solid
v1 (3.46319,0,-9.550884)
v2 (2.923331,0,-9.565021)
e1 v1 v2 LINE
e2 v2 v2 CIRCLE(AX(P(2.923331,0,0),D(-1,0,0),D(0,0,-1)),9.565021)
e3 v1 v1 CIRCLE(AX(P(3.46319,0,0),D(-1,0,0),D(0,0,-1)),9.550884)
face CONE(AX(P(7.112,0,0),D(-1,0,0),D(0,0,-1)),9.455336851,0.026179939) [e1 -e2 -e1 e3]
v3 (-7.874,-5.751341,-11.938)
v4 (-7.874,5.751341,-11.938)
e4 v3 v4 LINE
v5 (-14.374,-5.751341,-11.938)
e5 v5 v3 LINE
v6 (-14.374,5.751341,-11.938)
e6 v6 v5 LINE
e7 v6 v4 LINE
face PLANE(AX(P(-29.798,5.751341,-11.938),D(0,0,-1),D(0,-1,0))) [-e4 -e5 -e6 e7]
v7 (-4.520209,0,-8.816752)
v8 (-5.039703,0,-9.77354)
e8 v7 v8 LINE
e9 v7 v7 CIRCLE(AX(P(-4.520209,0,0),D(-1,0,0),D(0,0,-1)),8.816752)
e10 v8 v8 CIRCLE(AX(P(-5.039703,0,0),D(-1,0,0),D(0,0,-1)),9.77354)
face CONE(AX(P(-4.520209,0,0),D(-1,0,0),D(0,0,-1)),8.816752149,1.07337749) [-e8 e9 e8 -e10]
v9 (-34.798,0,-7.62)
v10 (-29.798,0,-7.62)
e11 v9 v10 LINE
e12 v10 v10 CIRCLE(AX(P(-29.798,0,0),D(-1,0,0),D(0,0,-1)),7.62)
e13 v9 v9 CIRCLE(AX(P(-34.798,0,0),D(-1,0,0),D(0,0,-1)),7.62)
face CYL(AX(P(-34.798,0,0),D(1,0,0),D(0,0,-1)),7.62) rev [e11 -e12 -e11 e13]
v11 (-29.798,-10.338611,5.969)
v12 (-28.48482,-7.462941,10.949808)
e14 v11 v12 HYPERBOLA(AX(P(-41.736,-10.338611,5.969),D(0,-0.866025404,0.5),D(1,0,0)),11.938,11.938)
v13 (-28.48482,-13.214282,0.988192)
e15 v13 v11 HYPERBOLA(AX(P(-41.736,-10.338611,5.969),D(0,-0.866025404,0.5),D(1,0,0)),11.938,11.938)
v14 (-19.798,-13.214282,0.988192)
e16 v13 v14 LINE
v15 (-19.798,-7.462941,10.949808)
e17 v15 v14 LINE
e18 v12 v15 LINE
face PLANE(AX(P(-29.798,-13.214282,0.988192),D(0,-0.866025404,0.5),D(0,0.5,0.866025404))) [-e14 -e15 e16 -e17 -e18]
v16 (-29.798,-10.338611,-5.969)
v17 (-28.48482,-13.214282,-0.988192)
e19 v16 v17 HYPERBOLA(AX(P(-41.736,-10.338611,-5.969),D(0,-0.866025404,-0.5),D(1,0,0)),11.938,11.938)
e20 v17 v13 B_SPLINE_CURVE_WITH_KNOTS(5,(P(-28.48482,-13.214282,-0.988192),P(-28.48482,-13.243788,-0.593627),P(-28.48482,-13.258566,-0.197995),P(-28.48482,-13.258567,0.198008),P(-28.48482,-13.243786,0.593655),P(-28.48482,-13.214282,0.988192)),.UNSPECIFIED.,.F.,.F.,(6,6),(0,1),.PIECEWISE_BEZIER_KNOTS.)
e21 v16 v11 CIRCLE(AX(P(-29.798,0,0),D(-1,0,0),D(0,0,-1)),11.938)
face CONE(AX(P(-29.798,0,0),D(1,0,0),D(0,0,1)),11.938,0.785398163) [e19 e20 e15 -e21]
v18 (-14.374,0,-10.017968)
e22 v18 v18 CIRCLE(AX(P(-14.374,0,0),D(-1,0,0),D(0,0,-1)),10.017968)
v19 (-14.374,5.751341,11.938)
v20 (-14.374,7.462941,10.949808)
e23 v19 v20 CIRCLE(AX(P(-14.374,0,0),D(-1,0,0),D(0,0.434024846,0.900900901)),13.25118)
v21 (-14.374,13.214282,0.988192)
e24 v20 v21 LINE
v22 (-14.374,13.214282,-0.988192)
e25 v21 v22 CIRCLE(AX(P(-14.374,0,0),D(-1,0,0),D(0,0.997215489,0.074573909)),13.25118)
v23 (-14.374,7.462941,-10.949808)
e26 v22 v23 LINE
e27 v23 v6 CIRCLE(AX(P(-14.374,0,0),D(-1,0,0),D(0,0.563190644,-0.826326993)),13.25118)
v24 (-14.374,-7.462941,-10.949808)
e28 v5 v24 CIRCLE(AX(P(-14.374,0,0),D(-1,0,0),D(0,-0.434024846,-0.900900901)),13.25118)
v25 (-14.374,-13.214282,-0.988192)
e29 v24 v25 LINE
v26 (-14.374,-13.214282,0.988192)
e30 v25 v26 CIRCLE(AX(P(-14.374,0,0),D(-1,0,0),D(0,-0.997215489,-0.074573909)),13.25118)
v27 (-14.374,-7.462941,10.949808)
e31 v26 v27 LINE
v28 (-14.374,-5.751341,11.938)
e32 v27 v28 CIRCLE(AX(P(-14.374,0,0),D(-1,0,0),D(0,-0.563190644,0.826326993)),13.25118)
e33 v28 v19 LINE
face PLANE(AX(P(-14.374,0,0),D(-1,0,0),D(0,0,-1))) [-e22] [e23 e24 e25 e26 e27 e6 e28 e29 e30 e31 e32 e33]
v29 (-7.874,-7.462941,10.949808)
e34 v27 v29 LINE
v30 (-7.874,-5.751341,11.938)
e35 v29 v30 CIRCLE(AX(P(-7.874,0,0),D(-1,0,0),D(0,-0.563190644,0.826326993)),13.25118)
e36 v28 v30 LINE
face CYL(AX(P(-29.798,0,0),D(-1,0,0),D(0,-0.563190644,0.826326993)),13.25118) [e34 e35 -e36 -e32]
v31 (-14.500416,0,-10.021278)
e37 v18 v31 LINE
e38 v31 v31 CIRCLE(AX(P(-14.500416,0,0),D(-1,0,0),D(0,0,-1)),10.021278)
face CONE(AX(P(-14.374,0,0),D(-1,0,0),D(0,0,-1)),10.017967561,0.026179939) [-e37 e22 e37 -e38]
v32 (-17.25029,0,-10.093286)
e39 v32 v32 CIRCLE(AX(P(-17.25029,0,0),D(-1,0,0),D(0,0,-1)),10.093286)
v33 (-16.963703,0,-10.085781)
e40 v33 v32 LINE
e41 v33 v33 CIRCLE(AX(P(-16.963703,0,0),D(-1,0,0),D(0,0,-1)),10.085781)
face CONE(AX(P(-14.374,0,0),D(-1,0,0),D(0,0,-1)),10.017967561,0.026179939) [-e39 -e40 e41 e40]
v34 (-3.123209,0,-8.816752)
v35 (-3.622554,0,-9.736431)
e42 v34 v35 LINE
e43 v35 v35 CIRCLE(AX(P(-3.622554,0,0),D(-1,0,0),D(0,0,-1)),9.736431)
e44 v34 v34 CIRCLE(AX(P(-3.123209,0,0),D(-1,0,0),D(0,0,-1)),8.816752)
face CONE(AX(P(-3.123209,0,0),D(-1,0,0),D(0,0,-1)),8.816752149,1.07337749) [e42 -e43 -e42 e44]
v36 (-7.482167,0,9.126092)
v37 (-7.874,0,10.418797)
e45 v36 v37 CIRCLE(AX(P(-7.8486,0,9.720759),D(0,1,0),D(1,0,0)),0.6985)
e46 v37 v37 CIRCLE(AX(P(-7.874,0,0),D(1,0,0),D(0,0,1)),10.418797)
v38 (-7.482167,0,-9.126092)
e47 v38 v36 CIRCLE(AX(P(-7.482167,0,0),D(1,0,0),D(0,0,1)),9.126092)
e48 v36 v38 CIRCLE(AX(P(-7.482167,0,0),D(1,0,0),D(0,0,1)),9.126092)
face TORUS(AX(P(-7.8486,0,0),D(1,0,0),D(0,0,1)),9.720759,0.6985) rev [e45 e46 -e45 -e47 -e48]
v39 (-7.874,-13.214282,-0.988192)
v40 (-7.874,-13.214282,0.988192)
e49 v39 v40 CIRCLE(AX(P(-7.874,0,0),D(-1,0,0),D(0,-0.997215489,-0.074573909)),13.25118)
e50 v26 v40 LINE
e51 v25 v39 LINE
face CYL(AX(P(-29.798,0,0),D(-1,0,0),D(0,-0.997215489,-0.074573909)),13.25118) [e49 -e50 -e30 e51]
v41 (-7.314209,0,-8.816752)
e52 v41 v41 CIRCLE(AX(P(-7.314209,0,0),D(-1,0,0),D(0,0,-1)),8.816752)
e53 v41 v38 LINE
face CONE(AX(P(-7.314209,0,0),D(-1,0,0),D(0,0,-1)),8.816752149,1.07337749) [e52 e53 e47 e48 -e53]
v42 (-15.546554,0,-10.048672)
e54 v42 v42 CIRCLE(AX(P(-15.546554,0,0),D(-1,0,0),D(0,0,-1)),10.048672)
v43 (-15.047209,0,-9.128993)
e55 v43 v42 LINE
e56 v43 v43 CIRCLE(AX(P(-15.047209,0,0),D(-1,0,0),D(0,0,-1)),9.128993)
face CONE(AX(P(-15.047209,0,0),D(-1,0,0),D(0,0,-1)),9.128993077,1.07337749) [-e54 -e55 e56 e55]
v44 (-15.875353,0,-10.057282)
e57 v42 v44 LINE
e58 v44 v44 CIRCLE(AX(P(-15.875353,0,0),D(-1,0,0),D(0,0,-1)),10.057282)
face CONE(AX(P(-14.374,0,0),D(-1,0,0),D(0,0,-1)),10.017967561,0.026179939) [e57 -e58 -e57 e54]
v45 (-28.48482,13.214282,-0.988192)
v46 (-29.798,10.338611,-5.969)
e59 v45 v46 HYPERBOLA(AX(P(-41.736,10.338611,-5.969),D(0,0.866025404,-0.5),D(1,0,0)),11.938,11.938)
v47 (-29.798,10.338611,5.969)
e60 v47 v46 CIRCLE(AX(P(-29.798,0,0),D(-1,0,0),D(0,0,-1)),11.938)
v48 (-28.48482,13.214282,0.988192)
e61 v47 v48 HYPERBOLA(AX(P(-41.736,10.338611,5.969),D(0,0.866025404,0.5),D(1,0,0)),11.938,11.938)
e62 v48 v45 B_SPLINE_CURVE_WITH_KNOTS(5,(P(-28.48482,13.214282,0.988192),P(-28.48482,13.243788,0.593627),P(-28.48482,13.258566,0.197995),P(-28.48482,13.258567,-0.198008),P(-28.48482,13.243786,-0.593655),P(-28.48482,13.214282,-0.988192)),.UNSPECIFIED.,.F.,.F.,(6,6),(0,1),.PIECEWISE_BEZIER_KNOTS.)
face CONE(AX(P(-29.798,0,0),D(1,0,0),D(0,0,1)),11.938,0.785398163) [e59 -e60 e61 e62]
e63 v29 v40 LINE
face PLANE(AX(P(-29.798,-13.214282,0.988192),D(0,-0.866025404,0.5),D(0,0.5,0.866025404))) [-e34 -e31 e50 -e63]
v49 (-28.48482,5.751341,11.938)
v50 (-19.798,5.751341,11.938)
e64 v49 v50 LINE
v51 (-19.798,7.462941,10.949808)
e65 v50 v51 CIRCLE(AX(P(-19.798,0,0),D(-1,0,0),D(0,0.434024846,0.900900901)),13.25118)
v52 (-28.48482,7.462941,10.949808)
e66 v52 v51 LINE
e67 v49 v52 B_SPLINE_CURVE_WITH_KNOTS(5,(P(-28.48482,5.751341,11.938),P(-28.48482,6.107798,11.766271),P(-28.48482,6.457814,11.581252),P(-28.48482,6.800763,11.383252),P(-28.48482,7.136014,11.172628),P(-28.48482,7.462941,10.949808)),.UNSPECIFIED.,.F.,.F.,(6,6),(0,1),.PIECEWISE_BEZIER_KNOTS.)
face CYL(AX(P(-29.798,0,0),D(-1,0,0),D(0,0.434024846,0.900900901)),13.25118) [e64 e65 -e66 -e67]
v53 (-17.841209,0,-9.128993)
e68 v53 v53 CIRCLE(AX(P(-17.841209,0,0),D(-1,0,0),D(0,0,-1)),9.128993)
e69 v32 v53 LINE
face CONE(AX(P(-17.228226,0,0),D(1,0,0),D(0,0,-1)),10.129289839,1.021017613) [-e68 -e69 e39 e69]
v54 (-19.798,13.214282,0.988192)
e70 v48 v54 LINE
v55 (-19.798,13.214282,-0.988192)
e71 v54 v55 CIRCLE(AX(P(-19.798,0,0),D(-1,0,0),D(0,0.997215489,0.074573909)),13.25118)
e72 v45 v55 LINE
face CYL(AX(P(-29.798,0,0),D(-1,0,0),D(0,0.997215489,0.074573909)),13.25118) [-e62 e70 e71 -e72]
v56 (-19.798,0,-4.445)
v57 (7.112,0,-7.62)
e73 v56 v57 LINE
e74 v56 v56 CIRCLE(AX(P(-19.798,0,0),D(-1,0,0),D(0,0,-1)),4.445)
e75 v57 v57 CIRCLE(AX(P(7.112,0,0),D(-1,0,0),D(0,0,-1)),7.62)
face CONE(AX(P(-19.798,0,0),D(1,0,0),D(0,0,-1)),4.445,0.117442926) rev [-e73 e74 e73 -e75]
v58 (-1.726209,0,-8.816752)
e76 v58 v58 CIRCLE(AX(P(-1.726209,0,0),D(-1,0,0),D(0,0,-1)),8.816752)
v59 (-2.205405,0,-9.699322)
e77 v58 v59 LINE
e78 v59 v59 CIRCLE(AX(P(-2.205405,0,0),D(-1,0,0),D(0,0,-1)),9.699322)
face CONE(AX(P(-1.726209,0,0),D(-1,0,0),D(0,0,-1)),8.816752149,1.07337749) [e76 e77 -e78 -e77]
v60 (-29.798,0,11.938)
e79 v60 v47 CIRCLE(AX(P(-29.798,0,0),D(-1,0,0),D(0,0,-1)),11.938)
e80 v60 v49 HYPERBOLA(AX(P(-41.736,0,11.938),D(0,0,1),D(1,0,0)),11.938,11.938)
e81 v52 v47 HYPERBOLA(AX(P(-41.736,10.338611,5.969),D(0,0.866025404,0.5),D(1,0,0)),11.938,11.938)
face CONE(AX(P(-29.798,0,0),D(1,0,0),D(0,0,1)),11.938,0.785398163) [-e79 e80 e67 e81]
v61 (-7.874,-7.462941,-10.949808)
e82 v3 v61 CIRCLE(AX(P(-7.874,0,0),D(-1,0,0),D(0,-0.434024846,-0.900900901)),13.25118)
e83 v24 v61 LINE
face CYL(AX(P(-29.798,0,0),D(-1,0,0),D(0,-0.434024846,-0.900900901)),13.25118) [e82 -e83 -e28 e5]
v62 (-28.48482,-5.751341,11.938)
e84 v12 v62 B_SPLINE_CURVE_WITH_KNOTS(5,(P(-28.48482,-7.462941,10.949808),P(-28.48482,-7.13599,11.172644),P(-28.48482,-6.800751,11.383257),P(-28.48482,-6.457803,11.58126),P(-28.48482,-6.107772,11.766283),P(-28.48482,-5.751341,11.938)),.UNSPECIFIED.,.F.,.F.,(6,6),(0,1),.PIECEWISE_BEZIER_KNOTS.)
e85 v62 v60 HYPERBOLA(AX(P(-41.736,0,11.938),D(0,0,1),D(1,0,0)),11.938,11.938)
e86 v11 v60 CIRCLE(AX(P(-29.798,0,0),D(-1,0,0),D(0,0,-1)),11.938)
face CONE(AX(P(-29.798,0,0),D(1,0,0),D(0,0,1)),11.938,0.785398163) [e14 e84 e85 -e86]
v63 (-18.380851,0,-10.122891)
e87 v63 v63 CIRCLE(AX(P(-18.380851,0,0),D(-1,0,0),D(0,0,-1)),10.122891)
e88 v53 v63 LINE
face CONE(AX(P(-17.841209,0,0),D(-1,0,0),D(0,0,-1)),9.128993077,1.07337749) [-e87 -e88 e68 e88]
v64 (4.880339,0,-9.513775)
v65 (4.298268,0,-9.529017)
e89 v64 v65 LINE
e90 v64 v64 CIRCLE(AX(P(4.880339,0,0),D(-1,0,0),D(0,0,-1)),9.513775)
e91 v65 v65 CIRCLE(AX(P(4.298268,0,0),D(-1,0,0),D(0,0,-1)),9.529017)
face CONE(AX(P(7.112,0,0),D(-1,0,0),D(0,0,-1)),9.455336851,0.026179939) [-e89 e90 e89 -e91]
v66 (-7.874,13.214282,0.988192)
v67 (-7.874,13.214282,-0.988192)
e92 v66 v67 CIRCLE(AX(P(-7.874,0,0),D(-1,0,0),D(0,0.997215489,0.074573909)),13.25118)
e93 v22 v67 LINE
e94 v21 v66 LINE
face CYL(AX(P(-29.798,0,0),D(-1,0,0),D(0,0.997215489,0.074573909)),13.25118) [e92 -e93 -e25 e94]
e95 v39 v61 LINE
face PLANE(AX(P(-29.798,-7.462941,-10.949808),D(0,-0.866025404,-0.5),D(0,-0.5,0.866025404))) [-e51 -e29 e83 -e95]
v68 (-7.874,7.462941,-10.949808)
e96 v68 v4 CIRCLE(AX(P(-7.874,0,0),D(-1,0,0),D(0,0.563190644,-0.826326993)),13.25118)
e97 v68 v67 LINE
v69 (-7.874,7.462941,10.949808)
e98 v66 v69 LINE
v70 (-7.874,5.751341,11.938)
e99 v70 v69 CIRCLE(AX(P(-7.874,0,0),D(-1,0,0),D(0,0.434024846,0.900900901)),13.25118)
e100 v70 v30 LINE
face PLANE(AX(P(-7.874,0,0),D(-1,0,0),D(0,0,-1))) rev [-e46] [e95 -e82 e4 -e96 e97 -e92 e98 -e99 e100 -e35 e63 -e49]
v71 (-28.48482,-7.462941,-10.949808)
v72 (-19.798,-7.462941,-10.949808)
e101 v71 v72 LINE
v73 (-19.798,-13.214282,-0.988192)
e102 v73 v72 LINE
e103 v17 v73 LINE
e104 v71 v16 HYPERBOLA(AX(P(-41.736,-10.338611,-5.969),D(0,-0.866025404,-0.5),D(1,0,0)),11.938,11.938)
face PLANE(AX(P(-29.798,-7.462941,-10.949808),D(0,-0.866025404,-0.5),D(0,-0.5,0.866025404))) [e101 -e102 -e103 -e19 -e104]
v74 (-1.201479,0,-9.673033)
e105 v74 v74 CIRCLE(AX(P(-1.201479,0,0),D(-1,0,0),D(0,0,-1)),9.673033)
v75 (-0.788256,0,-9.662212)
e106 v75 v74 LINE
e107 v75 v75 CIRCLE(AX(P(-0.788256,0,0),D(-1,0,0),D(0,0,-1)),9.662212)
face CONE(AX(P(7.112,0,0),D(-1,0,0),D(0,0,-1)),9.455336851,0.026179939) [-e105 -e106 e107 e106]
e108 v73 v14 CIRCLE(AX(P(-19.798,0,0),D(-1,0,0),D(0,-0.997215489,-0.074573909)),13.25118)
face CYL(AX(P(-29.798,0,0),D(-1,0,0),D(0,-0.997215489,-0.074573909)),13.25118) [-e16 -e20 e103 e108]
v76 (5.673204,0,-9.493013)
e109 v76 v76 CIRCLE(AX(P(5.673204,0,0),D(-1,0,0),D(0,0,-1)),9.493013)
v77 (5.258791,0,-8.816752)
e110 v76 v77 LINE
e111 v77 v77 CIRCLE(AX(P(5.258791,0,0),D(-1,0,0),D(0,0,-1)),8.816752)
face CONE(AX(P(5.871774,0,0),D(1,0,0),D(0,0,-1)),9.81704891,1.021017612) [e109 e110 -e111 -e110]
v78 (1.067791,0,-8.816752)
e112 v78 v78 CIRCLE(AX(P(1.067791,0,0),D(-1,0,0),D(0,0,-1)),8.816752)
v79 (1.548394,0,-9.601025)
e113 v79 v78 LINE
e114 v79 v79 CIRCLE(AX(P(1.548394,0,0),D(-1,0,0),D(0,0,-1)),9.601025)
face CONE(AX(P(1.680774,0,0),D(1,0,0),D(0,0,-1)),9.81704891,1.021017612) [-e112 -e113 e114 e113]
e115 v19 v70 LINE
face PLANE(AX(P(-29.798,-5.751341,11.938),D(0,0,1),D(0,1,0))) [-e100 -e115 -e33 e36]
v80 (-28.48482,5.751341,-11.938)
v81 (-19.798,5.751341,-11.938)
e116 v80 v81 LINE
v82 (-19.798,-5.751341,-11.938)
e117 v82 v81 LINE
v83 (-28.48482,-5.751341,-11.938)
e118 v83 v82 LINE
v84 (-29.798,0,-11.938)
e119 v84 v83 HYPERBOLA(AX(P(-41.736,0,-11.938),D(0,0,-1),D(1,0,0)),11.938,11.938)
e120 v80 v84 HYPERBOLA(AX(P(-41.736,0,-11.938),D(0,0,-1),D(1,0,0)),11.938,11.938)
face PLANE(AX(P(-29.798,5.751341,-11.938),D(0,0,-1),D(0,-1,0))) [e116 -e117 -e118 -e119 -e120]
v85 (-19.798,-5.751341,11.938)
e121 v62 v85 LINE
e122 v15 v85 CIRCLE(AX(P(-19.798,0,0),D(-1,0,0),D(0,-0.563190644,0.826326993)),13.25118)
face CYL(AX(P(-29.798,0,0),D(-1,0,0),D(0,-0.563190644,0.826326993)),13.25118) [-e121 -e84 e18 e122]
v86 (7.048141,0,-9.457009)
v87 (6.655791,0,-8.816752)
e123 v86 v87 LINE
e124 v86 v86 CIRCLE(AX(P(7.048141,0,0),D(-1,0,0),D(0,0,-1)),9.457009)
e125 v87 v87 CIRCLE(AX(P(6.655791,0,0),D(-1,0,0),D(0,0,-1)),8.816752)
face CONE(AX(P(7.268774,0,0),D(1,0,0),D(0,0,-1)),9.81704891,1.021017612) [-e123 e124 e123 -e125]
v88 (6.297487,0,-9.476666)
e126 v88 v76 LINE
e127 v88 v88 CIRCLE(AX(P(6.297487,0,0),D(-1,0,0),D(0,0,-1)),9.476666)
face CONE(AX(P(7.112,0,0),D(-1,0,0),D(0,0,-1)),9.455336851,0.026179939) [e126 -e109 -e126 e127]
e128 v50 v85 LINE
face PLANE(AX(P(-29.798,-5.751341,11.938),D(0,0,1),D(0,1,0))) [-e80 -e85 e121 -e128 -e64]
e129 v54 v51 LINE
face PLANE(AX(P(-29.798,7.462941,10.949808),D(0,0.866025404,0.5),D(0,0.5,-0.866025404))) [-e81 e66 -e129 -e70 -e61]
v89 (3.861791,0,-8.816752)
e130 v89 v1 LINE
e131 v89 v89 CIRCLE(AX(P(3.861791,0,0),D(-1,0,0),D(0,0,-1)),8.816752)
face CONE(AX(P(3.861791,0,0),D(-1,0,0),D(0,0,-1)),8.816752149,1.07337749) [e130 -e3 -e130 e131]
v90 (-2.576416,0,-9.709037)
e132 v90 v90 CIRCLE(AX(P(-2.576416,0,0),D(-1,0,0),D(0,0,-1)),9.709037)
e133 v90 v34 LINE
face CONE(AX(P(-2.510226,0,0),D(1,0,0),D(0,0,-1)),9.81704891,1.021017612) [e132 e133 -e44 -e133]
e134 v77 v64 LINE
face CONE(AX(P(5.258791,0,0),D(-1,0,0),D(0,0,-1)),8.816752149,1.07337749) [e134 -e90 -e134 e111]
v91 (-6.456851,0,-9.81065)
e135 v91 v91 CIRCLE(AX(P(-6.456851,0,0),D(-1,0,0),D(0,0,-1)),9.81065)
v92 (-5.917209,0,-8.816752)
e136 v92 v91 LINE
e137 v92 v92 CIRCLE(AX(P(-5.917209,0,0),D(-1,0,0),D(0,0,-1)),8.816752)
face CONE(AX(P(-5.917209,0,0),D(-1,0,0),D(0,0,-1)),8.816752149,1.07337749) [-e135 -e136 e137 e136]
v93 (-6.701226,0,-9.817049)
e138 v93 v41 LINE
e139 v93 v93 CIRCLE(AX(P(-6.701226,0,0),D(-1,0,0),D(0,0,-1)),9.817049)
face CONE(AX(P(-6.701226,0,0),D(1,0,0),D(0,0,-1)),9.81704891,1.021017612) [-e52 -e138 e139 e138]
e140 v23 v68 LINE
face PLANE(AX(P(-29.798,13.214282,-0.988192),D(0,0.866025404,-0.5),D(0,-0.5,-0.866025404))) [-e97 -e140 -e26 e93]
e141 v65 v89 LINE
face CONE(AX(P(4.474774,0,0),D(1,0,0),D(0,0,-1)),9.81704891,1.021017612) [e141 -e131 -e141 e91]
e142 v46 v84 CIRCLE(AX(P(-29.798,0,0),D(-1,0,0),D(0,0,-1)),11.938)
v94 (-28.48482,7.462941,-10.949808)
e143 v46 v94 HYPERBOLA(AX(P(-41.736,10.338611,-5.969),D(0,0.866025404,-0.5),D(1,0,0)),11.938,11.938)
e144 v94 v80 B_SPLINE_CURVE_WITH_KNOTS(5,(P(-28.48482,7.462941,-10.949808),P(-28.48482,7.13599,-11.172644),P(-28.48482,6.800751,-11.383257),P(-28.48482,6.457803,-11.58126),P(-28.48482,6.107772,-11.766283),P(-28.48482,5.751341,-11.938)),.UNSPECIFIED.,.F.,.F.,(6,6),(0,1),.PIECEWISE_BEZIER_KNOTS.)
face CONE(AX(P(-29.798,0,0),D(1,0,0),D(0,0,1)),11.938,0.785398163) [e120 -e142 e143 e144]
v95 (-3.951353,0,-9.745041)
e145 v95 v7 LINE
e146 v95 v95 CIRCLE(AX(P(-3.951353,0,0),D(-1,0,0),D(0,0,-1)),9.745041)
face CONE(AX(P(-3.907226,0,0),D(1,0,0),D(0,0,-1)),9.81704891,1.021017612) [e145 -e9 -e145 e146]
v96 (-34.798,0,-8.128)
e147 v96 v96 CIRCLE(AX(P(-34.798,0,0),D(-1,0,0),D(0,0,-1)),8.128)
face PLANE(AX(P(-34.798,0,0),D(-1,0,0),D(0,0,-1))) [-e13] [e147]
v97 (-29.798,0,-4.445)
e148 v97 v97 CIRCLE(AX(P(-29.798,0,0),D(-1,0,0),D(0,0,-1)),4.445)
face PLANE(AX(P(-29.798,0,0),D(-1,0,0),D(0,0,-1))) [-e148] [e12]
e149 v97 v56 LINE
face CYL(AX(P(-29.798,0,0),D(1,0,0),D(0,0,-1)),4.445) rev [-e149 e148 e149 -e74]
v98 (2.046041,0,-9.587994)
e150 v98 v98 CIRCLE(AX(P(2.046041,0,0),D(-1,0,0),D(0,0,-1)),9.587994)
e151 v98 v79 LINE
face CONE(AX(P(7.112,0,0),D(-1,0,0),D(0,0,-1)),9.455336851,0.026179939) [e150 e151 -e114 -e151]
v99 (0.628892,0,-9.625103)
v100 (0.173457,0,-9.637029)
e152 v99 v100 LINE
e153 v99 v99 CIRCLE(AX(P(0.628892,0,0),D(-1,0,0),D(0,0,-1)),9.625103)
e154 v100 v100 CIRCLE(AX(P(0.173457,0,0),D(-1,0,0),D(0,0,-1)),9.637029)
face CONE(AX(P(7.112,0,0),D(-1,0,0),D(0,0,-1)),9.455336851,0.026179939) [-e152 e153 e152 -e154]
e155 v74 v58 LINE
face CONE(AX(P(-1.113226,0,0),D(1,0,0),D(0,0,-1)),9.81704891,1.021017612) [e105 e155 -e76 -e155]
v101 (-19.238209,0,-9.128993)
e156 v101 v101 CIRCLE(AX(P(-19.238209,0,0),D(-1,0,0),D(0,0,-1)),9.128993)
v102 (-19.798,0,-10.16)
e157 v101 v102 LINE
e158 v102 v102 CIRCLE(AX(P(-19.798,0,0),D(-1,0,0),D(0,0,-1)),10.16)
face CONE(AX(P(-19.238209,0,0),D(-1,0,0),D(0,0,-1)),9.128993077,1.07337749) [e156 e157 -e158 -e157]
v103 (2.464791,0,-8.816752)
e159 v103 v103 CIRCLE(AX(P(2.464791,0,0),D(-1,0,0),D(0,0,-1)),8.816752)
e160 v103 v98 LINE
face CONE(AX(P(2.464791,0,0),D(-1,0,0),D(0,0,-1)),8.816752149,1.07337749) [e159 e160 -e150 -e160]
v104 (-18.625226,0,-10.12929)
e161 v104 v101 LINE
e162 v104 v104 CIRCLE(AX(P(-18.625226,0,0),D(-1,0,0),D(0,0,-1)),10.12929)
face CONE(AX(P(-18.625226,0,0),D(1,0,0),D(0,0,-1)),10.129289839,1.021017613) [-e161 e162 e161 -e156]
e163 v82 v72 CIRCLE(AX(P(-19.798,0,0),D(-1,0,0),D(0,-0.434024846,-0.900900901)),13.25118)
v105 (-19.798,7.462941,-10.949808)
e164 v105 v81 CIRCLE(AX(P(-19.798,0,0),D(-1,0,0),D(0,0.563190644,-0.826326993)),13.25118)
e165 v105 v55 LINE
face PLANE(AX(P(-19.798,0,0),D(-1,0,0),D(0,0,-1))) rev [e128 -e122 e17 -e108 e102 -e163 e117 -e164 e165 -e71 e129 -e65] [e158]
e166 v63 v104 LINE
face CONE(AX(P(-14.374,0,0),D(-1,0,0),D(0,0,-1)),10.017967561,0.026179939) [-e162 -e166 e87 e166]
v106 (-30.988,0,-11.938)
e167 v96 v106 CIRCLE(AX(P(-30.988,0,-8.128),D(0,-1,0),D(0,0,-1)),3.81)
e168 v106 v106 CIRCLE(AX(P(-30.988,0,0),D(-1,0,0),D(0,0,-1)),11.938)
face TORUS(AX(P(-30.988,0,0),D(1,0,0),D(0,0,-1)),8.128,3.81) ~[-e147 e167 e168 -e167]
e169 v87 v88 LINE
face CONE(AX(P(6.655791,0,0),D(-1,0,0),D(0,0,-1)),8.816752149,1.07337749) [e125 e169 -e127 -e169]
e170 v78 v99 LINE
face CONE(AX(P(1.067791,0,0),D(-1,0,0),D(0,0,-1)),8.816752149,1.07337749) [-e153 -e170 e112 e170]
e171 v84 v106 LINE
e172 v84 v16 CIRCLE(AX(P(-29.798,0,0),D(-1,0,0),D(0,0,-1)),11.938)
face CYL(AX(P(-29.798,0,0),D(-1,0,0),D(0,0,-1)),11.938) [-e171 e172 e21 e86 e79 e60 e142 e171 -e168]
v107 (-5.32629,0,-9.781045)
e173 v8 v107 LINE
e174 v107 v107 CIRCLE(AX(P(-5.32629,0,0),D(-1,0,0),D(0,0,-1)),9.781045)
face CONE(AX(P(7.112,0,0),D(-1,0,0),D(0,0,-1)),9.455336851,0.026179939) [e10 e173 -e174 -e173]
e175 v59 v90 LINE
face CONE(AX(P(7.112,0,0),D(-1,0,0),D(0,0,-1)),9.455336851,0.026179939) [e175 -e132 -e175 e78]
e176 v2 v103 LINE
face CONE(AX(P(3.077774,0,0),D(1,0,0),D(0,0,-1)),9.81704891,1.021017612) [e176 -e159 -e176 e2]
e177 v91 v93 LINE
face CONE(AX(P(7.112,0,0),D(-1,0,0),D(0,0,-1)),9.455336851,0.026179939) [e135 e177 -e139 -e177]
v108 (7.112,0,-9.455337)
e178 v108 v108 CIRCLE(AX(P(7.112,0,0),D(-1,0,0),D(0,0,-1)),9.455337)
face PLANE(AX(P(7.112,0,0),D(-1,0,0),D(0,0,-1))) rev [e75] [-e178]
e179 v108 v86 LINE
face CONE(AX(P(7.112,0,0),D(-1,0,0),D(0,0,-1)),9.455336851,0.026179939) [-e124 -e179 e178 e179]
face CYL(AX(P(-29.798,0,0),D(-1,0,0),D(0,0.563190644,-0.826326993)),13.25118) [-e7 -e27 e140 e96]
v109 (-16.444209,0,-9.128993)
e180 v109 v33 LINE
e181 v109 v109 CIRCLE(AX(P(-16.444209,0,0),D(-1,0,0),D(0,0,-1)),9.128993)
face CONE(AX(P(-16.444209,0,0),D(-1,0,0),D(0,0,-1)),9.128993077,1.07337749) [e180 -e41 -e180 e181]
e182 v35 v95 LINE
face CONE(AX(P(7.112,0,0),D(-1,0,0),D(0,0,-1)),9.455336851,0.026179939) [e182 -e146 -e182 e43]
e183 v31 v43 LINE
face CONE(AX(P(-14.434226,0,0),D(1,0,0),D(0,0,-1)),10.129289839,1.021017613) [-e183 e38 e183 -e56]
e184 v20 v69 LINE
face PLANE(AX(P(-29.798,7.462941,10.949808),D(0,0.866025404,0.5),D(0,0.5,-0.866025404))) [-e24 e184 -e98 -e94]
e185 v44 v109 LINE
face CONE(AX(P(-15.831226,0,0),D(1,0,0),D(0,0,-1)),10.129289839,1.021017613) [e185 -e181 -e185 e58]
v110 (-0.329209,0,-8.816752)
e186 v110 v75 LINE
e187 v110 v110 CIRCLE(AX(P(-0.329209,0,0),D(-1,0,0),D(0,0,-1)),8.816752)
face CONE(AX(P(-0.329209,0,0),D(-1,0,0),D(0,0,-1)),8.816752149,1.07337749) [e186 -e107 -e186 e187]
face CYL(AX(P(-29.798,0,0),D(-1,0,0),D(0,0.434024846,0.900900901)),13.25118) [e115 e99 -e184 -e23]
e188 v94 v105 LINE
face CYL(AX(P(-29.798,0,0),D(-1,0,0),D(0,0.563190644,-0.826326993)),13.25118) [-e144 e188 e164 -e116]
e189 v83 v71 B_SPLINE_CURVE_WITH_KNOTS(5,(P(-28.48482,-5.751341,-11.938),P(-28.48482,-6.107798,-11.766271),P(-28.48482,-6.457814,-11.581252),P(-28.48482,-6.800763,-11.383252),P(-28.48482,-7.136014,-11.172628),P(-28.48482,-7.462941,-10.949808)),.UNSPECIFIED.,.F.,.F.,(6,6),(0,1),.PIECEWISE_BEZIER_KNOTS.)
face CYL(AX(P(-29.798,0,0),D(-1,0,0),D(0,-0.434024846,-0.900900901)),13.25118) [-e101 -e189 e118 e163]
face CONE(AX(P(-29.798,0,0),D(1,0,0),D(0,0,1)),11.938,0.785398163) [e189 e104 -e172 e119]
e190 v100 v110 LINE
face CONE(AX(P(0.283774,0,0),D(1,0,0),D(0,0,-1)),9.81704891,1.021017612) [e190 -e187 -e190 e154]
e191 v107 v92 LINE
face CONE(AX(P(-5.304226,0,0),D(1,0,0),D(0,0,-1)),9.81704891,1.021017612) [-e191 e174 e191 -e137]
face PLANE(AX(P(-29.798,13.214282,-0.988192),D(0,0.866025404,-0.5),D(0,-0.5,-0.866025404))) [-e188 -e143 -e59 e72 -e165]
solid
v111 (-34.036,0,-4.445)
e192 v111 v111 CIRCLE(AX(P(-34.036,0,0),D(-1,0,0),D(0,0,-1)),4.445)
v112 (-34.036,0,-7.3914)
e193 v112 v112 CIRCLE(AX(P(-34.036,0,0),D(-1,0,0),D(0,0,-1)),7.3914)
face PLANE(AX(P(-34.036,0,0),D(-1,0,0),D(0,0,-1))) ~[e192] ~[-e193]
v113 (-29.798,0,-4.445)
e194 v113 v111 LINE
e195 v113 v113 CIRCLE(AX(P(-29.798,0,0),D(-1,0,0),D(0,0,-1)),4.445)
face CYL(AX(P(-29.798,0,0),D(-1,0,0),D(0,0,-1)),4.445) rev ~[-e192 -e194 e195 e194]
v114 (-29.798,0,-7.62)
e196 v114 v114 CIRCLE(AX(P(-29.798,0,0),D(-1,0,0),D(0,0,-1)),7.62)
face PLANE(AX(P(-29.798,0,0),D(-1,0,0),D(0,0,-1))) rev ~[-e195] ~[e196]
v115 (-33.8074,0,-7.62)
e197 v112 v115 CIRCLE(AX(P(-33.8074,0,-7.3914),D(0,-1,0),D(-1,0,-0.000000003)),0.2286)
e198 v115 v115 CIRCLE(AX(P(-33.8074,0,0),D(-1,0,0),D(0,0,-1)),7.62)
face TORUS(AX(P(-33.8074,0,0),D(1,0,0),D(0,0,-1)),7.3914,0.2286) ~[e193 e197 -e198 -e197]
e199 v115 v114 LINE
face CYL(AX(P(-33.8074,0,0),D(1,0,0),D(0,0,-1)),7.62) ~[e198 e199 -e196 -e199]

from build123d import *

# Parameters (mm, degrees)
LPATTERN6_COUNT    = 4
LPATTERN6_PITCH    = 1.397
LPATTERN7_COUNT    = 11
LPATTERN7_PITCH    = 1.397
SKETCH12_OUTSIDE_W = 65.648
SKETCH12_OUTSIDE_H = 65.648
CUT_EXTRUDE2_DEPTH = 37.91
FILLET4_R          = 3.81
SKETCH19_OUTSIDE_W = 40.884
SKETCH19_OUTSIDE_H = 43.51
SKETCH19_OUTSIDE_R = 11.938
CUT_EXTRUDE3_DEPTH = 1.999996
CUT_EXTRUDE3_DRAFT = -45
SKETCH28_R         = 0.6985


with BuildPart() as part:
    # Sketch10 → Revolve2 (revolve)
    with BuildSketch(Plane.XY, mode=Mode.PRIVATE) as revolve2_sk:
        Polygon((-29.798, 4.445), (-19.798, 4.445), (7.112, 7.62), (7.112, 9.455336851), (-7.874, 9.847759071), (-7.874, 23.876), (-14.374, 23.876), (-14.374, 10.017967561), (-19.798, 10.16), (-19.798, 23.876), (-29.798, 23.876), (-29.798, 11.938), (-34.798, 11.938), (-34.798, 7.62), (-29.798, 7.62), align=None)
    revolve(revolve2_sk.sketch.rotate(Axis((0, 0, 0), (-1, 0, 0)), 90), axis=Axis((0, 0, 0), (-1, 0, 0)))  # turned: the seam where the file's is

    # Sketch26 → Cut-Revolve1 (revolve, cut)
    with BuildSketch(Plane.XY, mode=Mode.PRIVATE) as cut_revolve1_sk:
        Polygon((-19.798, 10.16), (-18.625226271, 10.129289839), (-19.238208915, 9.128993077), align=None)
    cut_revolve1 = revolve(cut_revolve1_sk.sketch.rotate(Axis((0, 0, 0), (-1, 0, 0)), 90), axis=Axis((0, 0, 0), (-1, 0, 0)), mode=Mode.SUBTRACT)  # turned: the seam where the file's is

    # LPattern6: Cut-Revolve1 ×4
    with Locations(*[(i * LPATTERN6_PITCH, 0, 0) for i in range(1, LPATTERN6_COUNT)]):
        add(cut_revolve1, mode=Mode.SUBTRACT)

    # Sketch27 → Cut-Revolve2 (revolve, cut)
    with BuildSketch(Plane.XY, mode=Mode.PRIVATE) as cut_revolve2_sk:
        Polygon((-7.874, 9.847759071), (-6.701226271, 9.81704891), (-7.314208915, 8.816752149), align=None)
    cut_revolve2 = revolve(cut_revolve2_sk.sketch.rotate(Axis((0, 0, 0), (-1, 0, 0)), 90), axis=Axis((0, 0, 0), (-1, 0, 0)), mode=Mode.SUBTRACT)  # turned: the seam where the file's is

    # LPattern7: Cut-Revolve2 ×11
    with Locations(*[(i * LPATTERN7_PITCH, 0, 0) for i in range(1, LPATTERN7_COUNT)]):
        add(cut_revolve2, mode=Mode.SUBTRACT)

    # Sketch12 outside → Cut-Extrude2 (cut, through all)
    with BuildSketch(Plane.ZY.offset(29.798)):
        Rectangle(SKETCH12_OUTSIDE_W, SKETCH12_OUTSIDE_H)
        with BuildLine():
            Line((-0.98819228, 13.214281948), (-10.94980772, 7.462940592))
            ThreePointArc((-10.94980772, 7.462940592), (-11.47585851, 6.62559), (-11.938, 5.751341356))
            Line((-11.938, 5.751341356), (-11.938, -5.751341356))
            ThreePointArc((-11.938, -5.751341356), (-11.47585851, -6.62559), (-10.94980772, -7.462940592))
            Line((-10.94980772, -7.462940592), (-0.98819228, -13.214281948))
            ThreePointArc((-0.98819228, -13.214281948), (0, -13.25118), (0.98819228, -13.214281948))
            Line((0.98819228, -13.214281948), (10.94980772, -7.462940592))
            ThreePointArc((10.94980772, -7.462940592), (11.47585851, -6.62559), (11.938, -5.751341356))
            Line((11.938, -5.751341356), (11.938, 5.751341356))
            ThreePointArc((11.938, 5.751341356), (11.47585851, 6.62559), (10.94980772, 7.462940592))
            Line((10.94980772, 7.462940592), (0.98819228, 13.214281948))
            ThreePointArc((0.98819228, 13.214281948), (0, 13.25118), (-0.98819228, 13.214281948))
        make_face(mode=Mode.SUBTRACT)
    extrude(amount=-CUT_EXTRUDE2_DEPTH, mode=Mode.SUBTRACT)

    # Fillet4
    fillet4_edges = [part.edges().sort_by_distance(p)[0] for p in [
        (-34.798, 0, 11.938),
    ]]
    fillet(fillet4_edges, radius=FILLET4_R)


with BuildPart() as body_2:
    # Sketch30 → Revolve8 (revolve)
    with BuildSketch(Plane.XY, mode=Mode.PRIVATE) as revolve8_sk:
        with BuildLine():
            Line((-33.8074, 7.62), (-29.798, 7.62))
            Line((-29.798, 7.62), (-29.798, 4.445))
            Line((-29.798, 4.445), (-34.036, 4.445))
            Line((-34.036, 4.445), (-34.036, 7.3914))
            ThreePointArc((-34.036, 7.3914), (-33.96904461, 7.55304461), (-33.8074, 7.62))
        make_face()
    revolve(revolve8_sk.sketch.rotate(Axis((0, 0, 0), (-1, 0, 0)), 90), axis=Axis((0, 0, 0), (-1, 0, 0)))  # turned: the seam where the file's is


with BuildPart() as cut_extrude3_tool:
    # Sketch19 outside → Cut-Extrude3 (with draft: the straight prism first)
    with BuildSketch(Plane.ZY.offset(29.798)):
        Rectangle(SKETCH19_OUTSIDE_W, SKETCH19_OUTSIDE_H)
        Circle(SKETCH19_OUTSIDE_R, mode=Mode.SUBTRACT)
    extrude(amount=-CUT_EXTRUDE3_DEPTH)
    # Cut-Extrude3: the draft: its side faces are tilted about the plane it starts from
    cut_extrude3_sides = [cut_extrude3_tool.faces().sort_by_distance(p)[0] for p in [
        (-28.798002, -21.755, 0),
        (-28.798002, 0, 20.442),
        (-28.798002, 21.755, 0),
        (-28.798002, 0, -20.442),
        (-28.798002, 0, -11.938),
    ]]
    draft(cut_extrude3_sides, Plane.ZY.offset(29.798), CUT_EXTRUDE3_DRAFT)


with BuildPart() as part_1:
    add(part.part)

    # Cut-Extrude3: cut by cut_extrude3_tool
    add(cut_extrude3_tool.part, mode=Mode.SUBTRACT)

    # Sketch28 → Cut-Revolve3 (revolve, cut)
    with BuildSketch(Plane.XY, mode=Mode.PRIVATE) as cut_revolve3_sk:
        with Locations((-7.8486, -9.720759071)):
            Circle(SKETCH28_R)
    revolve(cut_revolve3_sk.sketch.rotate(Axis((7.112, 0, 0), (-1, 0, 0)), 90), axis=Axis((7.112, 0, 0), (-1, 0, 0)), mode=Mode.SUBTRACT)  # turned: the seam where the file's is


solid = Compound([body_2.part, part_1.part])
